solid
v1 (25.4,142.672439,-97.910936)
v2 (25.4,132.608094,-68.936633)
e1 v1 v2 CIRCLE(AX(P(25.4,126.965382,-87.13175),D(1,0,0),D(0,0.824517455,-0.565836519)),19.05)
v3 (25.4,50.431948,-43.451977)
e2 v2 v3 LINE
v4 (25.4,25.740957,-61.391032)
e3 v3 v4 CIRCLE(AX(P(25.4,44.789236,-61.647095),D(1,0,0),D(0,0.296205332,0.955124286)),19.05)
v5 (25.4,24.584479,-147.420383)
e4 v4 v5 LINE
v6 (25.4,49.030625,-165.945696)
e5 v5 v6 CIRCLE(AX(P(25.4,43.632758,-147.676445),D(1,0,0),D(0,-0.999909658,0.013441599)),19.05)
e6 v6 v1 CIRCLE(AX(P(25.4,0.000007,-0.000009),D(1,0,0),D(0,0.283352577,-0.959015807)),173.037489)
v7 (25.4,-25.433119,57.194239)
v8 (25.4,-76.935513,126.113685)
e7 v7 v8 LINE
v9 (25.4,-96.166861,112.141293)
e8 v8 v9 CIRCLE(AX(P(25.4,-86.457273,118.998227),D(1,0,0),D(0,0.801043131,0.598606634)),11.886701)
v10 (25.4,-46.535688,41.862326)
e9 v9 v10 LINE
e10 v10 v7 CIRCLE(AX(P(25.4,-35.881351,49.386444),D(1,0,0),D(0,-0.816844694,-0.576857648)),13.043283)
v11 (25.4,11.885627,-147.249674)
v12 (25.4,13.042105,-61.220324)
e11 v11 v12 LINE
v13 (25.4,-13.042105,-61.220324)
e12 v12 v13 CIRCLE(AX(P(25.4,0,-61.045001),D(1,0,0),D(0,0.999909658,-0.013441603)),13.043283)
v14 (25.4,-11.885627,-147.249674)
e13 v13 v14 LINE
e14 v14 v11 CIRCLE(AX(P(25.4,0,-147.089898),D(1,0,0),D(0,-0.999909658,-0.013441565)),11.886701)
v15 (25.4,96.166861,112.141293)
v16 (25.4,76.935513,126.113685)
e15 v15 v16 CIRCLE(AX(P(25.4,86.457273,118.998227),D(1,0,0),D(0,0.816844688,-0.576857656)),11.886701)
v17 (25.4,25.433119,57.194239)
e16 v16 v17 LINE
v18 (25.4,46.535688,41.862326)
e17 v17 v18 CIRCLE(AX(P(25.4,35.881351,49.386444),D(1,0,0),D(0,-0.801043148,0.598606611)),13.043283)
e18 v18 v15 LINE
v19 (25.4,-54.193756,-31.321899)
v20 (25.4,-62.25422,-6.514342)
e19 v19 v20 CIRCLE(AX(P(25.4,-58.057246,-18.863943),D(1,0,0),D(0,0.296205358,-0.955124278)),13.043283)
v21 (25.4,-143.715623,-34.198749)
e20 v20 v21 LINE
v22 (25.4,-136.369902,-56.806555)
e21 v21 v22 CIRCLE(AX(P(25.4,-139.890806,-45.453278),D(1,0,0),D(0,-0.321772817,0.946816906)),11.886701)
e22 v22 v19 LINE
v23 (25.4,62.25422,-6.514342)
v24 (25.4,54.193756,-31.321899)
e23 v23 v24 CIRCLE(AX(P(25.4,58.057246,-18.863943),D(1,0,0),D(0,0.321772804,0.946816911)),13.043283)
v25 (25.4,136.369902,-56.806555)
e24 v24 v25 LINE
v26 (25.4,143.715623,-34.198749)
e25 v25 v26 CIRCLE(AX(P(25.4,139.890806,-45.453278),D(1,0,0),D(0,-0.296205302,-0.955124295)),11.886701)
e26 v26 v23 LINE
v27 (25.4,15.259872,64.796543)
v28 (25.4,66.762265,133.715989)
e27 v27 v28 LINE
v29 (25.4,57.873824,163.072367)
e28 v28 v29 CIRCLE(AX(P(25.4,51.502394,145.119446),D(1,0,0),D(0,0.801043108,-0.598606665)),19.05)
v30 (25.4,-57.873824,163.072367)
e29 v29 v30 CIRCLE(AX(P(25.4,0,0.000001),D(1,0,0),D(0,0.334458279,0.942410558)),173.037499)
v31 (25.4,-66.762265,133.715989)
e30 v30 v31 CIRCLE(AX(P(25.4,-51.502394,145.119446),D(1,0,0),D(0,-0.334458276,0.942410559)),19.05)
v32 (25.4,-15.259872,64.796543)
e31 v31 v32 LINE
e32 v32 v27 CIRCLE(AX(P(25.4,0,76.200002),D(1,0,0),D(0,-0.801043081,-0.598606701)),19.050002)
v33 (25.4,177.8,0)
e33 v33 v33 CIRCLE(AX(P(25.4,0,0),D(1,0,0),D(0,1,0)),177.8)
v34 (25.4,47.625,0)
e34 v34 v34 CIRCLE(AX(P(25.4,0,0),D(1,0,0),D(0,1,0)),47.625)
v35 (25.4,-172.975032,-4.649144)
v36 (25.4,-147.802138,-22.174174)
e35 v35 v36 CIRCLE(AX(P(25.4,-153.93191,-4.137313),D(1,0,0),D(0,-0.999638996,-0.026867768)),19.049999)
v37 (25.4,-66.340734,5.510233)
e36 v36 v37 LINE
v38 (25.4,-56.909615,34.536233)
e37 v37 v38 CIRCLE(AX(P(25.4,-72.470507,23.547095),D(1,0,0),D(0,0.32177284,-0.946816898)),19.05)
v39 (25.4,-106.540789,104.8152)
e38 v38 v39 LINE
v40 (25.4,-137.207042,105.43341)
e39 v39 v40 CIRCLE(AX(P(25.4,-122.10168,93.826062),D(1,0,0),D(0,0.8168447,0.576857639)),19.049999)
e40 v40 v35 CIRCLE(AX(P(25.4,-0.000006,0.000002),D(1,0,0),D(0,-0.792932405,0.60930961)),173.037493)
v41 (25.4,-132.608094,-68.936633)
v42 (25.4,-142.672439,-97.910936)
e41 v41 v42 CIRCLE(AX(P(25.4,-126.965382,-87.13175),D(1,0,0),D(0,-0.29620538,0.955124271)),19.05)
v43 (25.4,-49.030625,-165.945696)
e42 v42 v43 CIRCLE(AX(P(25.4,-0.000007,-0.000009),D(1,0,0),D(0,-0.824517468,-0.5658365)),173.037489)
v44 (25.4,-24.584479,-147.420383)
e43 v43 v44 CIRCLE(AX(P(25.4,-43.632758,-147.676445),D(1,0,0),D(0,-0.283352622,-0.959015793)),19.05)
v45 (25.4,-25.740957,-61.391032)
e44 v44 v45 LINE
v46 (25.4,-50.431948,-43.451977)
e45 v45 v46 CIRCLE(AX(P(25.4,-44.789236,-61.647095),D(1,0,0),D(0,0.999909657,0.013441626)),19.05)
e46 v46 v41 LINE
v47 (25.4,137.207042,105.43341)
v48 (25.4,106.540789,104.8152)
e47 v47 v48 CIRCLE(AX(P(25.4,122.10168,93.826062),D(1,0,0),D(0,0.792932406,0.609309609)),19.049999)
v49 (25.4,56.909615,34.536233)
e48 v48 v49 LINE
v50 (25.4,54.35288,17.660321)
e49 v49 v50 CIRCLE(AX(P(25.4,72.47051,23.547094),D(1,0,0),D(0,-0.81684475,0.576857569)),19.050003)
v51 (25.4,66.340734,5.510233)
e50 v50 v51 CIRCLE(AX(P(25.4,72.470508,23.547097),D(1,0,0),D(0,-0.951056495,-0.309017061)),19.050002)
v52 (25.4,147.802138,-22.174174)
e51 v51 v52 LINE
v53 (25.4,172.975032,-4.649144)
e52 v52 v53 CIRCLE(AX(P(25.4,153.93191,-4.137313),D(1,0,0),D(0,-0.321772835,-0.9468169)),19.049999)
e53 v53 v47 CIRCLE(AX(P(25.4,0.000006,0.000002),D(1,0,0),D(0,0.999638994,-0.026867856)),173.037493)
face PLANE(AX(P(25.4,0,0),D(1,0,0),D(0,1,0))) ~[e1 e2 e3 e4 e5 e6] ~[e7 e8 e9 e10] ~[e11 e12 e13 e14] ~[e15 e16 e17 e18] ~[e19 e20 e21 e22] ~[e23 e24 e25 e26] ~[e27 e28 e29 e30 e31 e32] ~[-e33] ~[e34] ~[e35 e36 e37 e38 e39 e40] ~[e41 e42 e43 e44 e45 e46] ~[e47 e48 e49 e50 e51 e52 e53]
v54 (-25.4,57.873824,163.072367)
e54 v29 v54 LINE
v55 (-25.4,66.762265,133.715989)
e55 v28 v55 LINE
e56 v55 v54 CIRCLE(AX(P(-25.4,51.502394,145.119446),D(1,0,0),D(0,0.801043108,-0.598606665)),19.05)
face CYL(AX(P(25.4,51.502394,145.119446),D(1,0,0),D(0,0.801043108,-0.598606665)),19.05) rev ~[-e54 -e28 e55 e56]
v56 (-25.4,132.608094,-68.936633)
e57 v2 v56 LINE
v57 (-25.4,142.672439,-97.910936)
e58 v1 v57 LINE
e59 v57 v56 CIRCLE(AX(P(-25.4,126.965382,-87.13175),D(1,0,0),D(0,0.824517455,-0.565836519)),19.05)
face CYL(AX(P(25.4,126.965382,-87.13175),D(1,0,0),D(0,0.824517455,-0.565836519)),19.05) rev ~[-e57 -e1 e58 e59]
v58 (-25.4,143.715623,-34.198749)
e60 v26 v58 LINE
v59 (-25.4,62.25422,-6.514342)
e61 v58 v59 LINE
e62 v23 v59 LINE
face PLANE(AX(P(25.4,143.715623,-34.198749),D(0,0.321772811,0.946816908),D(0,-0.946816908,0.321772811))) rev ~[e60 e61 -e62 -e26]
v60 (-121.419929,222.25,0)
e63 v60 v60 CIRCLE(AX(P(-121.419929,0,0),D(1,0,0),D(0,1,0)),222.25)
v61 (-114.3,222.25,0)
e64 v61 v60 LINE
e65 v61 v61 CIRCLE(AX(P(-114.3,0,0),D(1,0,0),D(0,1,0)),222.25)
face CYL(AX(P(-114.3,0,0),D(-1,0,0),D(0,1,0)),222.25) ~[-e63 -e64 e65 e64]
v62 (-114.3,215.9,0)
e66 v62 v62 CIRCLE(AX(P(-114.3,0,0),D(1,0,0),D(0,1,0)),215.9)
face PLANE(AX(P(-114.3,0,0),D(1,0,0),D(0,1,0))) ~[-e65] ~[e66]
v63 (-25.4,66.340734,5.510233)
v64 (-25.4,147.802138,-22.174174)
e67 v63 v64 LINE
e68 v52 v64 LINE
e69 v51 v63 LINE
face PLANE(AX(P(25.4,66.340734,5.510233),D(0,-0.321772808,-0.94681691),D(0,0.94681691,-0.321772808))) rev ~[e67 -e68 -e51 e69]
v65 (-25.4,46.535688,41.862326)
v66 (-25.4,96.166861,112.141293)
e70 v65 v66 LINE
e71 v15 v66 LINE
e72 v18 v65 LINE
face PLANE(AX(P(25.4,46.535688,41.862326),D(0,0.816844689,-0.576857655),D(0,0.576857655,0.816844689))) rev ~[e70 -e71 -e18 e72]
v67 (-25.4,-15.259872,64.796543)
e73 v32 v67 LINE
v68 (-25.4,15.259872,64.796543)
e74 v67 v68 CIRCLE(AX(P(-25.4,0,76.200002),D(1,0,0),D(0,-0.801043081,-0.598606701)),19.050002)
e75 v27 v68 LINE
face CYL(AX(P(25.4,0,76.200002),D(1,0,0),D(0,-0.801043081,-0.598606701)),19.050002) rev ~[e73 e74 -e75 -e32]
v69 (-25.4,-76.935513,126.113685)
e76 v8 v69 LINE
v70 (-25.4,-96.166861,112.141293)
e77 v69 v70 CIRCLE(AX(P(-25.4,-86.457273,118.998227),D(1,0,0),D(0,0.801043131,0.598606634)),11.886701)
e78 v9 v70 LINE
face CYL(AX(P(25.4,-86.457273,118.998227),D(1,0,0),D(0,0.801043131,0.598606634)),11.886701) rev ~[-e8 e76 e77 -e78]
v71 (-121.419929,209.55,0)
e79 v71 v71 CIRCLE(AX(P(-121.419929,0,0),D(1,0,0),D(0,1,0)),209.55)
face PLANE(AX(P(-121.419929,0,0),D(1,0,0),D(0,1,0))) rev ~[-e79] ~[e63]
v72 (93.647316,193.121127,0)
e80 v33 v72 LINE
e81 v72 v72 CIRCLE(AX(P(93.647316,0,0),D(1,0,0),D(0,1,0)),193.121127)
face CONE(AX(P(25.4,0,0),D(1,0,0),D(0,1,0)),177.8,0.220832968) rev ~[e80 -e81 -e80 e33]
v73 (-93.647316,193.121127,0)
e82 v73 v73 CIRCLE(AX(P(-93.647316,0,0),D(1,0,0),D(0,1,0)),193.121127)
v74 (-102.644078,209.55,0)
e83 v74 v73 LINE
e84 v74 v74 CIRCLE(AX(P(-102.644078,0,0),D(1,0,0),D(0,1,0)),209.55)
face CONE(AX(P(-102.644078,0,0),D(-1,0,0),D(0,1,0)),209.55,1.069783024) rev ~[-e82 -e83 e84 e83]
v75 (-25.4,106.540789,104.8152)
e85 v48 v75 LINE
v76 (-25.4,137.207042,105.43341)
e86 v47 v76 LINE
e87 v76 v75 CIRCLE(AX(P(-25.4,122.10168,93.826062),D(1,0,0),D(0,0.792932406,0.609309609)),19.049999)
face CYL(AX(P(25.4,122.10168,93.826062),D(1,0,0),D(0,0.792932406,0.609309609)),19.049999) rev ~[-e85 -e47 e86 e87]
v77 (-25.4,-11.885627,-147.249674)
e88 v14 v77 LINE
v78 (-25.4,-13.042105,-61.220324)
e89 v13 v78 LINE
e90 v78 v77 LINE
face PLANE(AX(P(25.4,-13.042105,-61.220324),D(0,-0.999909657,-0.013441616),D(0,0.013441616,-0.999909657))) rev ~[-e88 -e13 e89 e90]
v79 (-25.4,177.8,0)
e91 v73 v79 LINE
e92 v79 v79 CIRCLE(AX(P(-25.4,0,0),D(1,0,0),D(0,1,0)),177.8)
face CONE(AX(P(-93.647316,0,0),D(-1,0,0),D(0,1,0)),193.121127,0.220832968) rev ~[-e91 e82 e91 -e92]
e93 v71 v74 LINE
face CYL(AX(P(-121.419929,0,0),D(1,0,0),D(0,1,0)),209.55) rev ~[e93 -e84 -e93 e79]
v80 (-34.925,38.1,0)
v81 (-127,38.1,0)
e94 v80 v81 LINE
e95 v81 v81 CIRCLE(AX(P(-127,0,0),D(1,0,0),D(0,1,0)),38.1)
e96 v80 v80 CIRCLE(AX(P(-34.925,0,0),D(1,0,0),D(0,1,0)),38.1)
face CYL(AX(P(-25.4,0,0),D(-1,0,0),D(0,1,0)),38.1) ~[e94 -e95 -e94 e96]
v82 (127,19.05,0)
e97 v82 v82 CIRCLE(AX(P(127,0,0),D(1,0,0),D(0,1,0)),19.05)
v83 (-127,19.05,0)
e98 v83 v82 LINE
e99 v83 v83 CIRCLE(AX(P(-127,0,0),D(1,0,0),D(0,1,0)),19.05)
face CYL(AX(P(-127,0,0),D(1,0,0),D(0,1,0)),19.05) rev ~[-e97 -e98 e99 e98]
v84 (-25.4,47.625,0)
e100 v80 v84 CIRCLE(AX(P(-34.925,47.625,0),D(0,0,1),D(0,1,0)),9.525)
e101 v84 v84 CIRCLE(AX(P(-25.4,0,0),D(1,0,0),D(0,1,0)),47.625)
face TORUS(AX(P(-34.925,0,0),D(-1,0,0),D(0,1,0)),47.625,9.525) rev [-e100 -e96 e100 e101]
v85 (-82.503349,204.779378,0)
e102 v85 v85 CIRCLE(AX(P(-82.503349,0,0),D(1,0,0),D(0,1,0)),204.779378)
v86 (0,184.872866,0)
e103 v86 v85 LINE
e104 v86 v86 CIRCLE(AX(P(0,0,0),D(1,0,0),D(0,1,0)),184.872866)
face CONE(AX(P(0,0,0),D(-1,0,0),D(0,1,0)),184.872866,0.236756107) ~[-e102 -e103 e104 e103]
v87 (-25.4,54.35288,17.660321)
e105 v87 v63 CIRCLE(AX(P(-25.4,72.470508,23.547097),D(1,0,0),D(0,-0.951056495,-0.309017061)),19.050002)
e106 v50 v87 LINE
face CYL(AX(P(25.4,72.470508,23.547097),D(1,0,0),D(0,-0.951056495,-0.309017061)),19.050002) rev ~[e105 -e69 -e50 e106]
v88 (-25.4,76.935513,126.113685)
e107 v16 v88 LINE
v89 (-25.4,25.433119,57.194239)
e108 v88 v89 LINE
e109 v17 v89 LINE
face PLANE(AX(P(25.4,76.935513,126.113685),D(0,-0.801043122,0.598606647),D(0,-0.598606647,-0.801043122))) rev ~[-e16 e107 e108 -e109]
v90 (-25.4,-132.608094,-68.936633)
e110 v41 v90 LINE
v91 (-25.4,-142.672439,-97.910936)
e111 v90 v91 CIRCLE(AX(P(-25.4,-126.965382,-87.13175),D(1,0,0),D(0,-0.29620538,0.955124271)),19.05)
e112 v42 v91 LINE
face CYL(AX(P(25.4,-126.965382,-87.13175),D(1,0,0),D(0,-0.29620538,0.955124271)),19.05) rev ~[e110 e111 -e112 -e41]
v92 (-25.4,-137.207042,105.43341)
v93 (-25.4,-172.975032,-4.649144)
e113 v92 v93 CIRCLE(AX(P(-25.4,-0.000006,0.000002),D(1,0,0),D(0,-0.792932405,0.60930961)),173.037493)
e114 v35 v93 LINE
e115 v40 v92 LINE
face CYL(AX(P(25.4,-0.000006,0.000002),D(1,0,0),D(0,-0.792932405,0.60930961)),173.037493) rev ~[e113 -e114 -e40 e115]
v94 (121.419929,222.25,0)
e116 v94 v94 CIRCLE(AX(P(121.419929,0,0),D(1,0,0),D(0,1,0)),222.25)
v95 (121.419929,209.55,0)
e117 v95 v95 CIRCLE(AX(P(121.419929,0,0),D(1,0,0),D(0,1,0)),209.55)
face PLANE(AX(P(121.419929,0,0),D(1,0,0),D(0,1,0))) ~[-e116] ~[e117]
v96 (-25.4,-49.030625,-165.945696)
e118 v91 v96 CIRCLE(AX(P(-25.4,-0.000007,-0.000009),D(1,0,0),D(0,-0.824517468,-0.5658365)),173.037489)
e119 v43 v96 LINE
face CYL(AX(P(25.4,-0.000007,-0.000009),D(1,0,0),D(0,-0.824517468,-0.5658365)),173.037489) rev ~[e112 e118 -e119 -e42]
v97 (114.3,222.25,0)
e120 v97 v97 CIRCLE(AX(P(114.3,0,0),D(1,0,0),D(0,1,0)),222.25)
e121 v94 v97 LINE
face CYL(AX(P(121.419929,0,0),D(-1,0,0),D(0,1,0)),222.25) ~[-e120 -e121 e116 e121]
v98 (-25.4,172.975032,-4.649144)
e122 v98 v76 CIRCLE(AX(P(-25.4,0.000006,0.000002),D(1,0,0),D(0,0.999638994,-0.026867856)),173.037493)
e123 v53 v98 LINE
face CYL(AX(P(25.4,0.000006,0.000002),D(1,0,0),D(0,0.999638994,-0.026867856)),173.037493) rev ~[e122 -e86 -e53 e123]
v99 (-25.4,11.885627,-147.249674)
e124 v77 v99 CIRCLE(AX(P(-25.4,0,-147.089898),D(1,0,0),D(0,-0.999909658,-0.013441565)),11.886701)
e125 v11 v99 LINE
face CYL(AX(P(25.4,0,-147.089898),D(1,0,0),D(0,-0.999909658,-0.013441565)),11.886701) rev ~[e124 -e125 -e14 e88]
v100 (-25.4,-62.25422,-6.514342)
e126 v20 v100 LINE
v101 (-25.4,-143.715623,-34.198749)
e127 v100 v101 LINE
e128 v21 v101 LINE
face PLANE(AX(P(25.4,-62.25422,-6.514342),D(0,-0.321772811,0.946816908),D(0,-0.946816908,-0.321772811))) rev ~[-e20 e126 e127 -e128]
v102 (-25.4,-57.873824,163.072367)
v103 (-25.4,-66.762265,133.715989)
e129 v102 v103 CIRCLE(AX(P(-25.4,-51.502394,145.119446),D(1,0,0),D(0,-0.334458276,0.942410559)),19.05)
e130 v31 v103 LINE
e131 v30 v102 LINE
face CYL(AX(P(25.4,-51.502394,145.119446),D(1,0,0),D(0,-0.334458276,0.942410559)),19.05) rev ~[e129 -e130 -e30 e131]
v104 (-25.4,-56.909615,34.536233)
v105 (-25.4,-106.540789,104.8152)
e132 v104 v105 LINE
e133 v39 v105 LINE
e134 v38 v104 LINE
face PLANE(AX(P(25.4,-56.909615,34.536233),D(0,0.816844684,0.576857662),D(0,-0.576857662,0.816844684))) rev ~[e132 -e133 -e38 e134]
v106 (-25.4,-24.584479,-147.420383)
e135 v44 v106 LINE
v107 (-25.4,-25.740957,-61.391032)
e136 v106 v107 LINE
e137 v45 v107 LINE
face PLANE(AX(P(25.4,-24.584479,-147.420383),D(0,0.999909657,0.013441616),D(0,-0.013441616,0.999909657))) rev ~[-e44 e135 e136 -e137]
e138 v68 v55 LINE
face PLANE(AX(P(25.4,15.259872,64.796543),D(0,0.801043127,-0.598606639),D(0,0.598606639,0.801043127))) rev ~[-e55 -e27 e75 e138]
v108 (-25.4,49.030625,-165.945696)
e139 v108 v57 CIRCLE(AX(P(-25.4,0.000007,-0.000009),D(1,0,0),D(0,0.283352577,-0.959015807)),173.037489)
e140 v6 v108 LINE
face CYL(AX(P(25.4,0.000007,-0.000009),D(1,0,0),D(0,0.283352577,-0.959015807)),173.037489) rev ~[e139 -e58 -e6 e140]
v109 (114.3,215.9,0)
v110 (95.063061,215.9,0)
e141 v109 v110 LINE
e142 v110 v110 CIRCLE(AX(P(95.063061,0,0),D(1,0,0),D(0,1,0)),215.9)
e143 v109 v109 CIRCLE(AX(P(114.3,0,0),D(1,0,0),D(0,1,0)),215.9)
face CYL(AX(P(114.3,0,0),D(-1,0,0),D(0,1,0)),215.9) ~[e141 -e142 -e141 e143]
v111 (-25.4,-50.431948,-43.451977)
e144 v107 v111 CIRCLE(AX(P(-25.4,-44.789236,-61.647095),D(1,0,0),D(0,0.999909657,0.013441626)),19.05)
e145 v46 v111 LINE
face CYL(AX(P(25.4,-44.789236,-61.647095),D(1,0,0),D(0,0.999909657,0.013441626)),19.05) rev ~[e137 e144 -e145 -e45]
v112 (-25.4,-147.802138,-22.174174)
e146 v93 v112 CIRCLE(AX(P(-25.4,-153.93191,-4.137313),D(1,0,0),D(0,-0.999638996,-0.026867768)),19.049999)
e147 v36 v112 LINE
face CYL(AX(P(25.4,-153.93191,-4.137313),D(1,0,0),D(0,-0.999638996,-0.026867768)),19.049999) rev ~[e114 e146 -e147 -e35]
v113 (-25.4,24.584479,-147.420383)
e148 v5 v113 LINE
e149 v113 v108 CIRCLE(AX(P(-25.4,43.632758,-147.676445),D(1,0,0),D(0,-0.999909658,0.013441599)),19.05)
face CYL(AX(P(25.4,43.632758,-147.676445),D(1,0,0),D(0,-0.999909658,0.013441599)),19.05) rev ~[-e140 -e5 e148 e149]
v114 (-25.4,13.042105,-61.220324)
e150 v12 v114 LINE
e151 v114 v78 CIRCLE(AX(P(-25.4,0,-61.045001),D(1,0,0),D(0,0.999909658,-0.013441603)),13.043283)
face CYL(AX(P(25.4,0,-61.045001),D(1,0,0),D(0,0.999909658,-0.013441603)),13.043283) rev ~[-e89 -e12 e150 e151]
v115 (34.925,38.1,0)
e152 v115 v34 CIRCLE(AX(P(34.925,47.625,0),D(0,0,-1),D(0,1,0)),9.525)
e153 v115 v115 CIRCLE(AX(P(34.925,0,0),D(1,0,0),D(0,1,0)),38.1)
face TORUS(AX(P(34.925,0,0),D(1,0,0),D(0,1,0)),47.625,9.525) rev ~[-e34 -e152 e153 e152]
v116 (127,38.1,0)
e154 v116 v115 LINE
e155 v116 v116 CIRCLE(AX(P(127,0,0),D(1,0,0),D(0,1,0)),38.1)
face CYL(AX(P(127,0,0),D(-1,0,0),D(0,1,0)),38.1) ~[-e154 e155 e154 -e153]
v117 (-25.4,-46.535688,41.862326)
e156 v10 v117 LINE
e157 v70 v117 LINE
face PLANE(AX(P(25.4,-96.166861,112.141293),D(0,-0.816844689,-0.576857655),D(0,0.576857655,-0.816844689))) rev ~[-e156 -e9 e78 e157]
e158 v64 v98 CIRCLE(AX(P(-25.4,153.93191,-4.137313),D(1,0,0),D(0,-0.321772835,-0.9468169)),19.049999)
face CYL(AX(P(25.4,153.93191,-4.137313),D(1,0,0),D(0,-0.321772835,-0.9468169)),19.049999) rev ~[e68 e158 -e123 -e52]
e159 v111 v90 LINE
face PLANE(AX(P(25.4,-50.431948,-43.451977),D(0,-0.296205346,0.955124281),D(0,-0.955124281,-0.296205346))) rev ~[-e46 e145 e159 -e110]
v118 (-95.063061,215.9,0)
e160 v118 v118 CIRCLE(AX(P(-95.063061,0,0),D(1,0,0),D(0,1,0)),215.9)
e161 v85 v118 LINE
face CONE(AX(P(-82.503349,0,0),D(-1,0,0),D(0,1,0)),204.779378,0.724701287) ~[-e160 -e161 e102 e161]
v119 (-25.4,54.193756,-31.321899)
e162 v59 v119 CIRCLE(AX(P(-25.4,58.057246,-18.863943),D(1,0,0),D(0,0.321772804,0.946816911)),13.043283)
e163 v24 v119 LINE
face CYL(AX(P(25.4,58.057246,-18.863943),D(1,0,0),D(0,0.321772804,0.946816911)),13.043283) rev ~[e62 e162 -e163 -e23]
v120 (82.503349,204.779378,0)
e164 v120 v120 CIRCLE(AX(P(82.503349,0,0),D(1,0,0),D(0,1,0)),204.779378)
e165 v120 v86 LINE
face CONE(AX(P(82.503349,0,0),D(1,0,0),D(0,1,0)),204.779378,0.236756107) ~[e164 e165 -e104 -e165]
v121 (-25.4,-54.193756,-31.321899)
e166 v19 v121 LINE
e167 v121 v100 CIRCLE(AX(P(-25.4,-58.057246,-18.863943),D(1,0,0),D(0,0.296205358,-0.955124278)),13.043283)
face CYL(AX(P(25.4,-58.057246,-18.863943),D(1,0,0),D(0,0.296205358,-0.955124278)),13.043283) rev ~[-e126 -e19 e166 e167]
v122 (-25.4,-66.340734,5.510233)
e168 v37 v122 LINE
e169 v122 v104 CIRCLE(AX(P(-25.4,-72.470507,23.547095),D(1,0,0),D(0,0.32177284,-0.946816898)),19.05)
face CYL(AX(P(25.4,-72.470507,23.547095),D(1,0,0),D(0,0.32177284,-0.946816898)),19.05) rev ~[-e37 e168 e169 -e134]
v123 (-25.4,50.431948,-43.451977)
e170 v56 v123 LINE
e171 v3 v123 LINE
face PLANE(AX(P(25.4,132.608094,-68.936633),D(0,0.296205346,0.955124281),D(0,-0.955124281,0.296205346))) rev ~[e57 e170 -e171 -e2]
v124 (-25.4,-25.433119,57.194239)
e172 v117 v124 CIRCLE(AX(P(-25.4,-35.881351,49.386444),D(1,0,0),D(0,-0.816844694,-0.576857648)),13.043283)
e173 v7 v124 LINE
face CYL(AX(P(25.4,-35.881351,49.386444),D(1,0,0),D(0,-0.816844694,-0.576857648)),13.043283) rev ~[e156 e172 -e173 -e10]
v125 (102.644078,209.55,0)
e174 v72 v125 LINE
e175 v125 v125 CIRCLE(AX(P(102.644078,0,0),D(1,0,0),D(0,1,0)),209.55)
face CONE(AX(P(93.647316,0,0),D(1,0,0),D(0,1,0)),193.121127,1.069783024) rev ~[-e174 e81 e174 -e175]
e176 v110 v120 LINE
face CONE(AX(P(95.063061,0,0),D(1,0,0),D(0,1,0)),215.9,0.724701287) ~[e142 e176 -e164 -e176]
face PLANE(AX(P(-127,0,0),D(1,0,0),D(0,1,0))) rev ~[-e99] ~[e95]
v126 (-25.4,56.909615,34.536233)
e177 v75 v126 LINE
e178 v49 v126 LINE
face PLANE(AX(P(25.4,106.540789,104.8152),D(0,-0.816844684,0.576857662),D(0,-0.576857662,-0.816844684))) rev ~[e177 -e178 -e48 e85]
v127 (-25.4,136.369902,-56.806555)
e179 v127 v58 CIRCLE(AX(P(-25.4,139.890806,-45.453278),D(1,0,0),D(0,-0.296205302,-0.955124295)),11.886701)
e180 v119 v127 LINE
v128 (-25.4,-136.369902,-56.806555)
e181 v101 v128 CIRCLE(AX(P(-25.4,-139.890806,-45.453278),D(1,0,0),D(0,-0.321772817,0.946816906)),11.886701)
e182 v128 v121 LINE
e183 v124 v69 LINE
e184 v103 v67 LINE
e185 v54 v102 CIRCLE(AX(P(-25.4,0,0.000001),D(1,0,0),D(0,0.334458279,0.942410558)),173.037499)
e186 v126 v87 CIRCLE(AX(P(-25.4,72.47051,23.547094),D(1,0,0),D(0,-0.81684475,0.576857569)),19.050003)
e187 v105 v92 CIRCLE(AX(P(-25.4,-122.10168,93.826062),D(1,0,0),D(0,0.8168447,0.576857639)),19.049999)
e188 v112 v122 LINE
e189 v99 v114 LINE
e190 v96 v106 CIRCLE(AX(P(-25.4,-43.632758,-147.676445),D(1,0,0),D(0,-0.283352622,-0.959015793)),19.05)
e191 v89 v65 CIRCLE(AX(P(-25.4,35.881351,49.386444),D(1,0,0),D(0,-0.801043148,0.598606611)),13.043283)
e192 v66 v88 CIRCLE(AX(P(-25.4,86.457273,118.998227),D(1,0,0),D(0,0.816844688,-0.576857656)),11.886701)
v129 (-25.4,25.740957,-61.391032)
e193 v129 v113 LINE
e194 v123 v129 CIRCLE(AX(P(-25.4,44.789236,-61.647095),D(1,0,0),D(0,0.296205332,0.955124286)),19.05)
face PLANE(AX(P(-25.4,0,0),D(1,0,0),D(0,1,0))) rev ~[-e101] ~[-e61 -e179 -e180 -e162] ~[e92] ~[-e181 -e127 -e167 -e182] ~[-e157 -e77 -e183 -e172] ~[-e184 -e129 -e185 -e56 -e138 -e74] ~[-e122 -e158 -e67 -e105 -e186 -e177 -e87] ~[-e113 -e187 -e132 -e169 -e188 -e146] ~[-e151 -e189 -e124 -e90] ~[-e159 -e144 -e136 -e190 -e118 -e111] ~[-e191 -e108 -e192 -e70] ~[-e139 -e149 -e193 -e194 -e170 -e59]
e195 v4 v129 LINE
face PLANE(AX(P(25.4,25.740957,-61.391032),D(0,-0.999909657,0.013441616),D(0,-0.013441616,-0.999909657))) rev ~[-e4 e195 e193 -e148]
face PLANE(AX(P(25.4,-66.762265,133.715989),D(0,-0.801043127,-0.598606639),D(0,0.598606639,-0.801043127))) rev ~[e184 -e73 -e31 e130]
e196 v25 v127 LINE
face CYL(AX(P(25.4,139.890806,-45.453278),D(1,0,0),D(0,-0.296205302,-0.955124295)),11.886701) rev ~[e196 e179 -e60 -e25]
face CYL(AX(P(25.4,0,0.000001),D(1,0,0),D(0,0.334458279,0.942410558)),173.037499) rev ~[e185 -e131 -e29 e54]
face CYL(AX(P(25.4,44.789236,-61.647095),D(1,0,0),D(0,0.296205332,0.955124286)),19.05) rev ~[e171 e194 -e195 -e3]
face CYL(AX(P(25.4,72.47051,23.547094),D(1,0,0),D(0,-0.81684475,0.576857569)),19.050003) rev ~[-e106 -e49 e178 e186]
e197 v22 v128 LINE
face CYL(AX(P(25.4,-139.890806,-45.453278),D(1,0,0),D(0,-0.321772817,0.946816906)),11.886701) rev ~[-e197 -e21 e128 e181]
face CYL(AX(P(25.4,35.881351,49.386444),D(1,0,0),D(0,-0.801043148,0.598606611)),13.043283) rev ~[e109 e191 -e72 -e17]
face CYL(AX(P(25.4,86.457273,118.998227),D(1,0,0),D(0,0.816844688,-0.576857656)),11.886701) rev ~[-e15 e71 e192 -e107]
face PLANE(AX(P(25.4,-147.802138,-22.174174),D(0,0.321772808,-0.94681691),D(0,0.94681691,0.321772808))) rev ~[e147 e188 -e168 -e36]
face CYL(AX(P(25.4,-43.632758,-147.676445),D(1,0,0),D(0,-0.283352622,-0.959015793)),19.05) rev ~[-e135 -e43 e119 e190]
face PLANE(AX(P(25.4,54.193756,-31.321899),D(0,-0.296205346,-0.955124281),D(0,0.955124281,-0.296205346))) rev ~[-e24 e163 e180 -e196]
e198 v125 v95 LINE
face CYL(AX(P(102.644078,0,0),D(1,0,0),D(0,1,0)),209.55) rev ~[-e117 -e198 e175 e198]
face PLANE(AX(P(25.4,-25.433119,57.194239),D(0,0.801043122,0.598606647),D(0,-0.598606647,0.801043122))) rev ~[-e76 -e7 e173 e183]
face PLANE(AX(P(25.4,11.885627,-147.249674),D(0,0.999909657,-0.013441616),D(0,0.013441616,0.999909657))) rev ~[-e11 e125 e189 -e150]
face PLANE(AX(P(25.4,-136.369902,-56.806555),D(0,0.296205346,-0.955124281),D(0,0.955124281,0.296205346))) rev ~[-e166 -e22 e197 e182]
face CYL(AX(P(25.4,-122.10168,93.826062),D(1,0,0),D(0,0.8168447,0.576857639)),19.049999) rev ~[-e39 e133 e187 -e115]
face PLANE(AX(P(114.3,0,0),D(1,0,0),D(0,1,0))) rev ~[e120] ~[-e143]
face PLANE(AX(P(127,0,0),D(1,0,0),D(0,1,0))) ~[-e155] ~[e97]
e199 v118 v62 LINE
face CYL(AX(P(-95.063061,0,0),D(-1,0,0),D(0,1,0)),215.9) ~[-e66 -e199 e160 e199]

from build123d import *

# Parameters (mm, degrees)
F3_DEPTH = 152.401
F5_DEPTH = 152.401
F6_R     = 9.525


with BuildPart() as f1:
    # F0 (on Top) → F1 (revolve)
    with BuildSketch(Plane.XY):
        Polygon((-127, 19.05), (0, 19.05), (127, 19.05), (127, 38.1), (25.4, 38.1), (25.4, 177.8), (93.647316, 193.121127), (102.644078, 209.55), (121.419929, 209.55), (121.419929, 222.25), (114.3, 222.25), (114.3, 215.9), (95.063061, 215.9), (82.503349, 204.779378), (0, 184.872866), (-82.503349, 204.779378), (-95.063061, 215.9), (-114.3, 215.9), (-114.3, 222.25), (-121.419929, 222.25), (-121.419929, 209.55), (-102.644078, 209.55), (-93.647316, 193.121127), (-25.4, 177.8), (-25.4, 38.1), (-127, 38.1), align=None)
    revolve(axis=Axis((63.5, 0, 0), (1, 0, 0)))

    # F2 (on face) → F3 (cut, through all)
    with BuildSketch(Plane.YZ.offset(25.4)):
        with BuildLine():
            ThreePointArc((66.762265, 133.715989), (69.734989, 150.63986), (57.873824, 163.072367))
            ThreePointArc((57.873824, 163.072367), (0, 173.0375), (-57.873824, 163.072367))
            ThreePointArc((-57.873824, 163.072367), (-69.734989, 150.63986), (-66.762265, 133.715989))
            Line((-66.762265, 133.715989), (-15.259872, 64.796543))
            ThreePointArc((-15.259872, 64.796543), (0, 57.15), (15.259872, 64.796543))
            Line((15.259872, 64.796543), (66.762265, 133.715989))
        make_face()
        with BuildLine():
            ThreePointArc((-172.975032, -4.649144), (-164.816317, -19.771639), (-147.802138, -22.174174))
            Line((-147.802138, -22.174174), (-66.340734, 5.510233))
            ThreePointArc((-66.340734, 5.510233), (-54.35288, 17.660321), (-56.909615, 34.536233))
            Line((-56.909615, 34.536233), (-106.540789, 104.8152))
            ThreePointArc((-106.540789, 104.8152), (-121.717724, 112.872192), (-137.207042, 105.43341))
            ThreePointArc((-137.207042, 105.43341), (-164.568442, 53.471528), (-172.975032, -4.649144))
        make_face()
        with BuildLine():
            ThreePointArc((-49.030625, -165.945696), (-32.127097, -162.859405), (-24.584479, -147.420383))
            Line((-24.584479, -147.420383), (-25.740957, -61.391032))
            ThreePointArc((-25.740957, -61.391032), (-33.591927, -46.235321), (-50.431948, -43.451977))
            Line((-50.431948, -43.451977), (-132.608094, -68.936633))
            ThreePointArc((-132.608094, -68.936633), (-144.960679, -80.881009), (-142.672439, -97.910936))
            ThreePointArc((-142.672439, -97.910936), (-101.708891, -139.990278), (-49.030625, -165.945696))
        make_face()
        with BuildLine():
            ThreePointArc((142.672439, -97.910936), (144.960679, -80.881009), (132.608094, -68.936633))
            Line((132.608094, -68.936633), (50.431948, -43.451977))
            ThreePointArc((50.431948, -43.451977), (33.591927, -46.235321), (25.740957, -61.391032))
            Line((25.740957, -61.391032), (24.584479, -147.420383))
            ThreePointArc((24.584479, -147.420383), (32.127097, -162.859405), (49.030625, -165.945696))
            ThreePointArc((49.030625, -165.945696), (101.708891, -139.990278), (142.672439, -97.910936))
        make_face()
        with BuildLine():
            ThreePointArc((137.207042, 105.43341), (121.717724, 112.872192), (106.540789, 104.8152))
            Line((106.540789, 104.8152), (56.909615, 34.536233))
            ThreePointArc((56.909615, 34.536233), (53.63544, 26.400646), (54.35288, 17.660321))
            ThreePointArc((54.35288, 17.660321), (58.909893, 10.167549), (66.340734, 5.510233))
            Line((66.340734, 5.510233), (147.802138, -22.174174))
            ThreePointArc((147.802138, -22.174174), (164.816317, -19.771639), (172.975032, -4.649144))
            ThreePointArc((172.975032, -4.649144), (164.568442, 53.471528), (137.207042, 105.43341))
        make_face()
    extrude(amount=-F3_DEPTH, mode=Mode.SUBTRACT)

    # F4 (on face) → F5 (cut, through all)
    with BuildSketch(Plane.YZ.offset(25.4)):
        with BuildLine():
            Line((76.935513, 126.113685), (25.433119, 57.194239))
            ThreePointArc((25.433119, 57.194239), (28.214702, 38.834206), (46.535688, 41.862326))
            Line((46.535688, 41.862326), (96.166861, 112.141293))
            ThreePointArc((96.166861, 112.141293), (93.4441, 128.61477), (76.935513, 126.113685))
        make_face()
        with BuildLine():
            Line((-25.433119, 57.194239), (-76.935513, 126.113685))
            ThreePointArc((-76.935513, 126.113685), (-93.4441, 128.61477), (-96.166861, 112.141293))
            Line((-96.166861, 112.141293), (-46.535688, 41.862326))
            ThreePointArc((-46.535688, 41.862326), (-28.214702, 38.834206), (-25.433119, 57.194239))
        make_face()
        with BuildLine():
            Line((-62.25422, -6.514342), (-143.715623, -34.198749))
            ThreePointArc((-143.715623, -34.198749), (-151.19573, -49.126471), (-136.369902, -56.806555))
            Line((-136.369902, -56.806555), (-54.193756, -31.321899))
            ThreePointArc((-54.193756, -31.321899), (-45.652347, -14.833347), (-62.25422, -6.514342))
        make_face()
        with BuildLine():
            Line((-13.042105, -61.220324), (-11.885627, -147.249674))
            ThreePointArc((-11.885627, -147.249674), (0, -158.976599), (11.885627, -147.249674))
            Line((11.885627, -147.249674), (13.042105, -61.220324))
            ThreePointArc((13.042105, -61.220324), (0, -48.001718), (-13.042105, -61.220324))
        make_face()
        with BuildLine():
            Line((54.193756, -31.321899), (136.369902, -56.806555))
            ThreePointArc((136.369902, -56.806555), (151.19573, -49.126471), (143.715623, -34.198749))
            Line((143.715623, -34.198749), (62.25422, -6.514342))
            ThreePointArc((62.25422, -6.514342), (45.652347, -14.833347), (54.193756, -31.321899))
        make_face()
    extrude(amount=-F5_DEPTH, mode=Mode.SUBTRACT)

    # F6
    f6_edges = [f1.edges().sort_by_distance(p)[0] for p in [
        (25.4, -38.1, 0),
        (-25.4, -38.1, 0),
    ]]
    fillet(f6_edges, radius=F6_R)


solid = f1.part
